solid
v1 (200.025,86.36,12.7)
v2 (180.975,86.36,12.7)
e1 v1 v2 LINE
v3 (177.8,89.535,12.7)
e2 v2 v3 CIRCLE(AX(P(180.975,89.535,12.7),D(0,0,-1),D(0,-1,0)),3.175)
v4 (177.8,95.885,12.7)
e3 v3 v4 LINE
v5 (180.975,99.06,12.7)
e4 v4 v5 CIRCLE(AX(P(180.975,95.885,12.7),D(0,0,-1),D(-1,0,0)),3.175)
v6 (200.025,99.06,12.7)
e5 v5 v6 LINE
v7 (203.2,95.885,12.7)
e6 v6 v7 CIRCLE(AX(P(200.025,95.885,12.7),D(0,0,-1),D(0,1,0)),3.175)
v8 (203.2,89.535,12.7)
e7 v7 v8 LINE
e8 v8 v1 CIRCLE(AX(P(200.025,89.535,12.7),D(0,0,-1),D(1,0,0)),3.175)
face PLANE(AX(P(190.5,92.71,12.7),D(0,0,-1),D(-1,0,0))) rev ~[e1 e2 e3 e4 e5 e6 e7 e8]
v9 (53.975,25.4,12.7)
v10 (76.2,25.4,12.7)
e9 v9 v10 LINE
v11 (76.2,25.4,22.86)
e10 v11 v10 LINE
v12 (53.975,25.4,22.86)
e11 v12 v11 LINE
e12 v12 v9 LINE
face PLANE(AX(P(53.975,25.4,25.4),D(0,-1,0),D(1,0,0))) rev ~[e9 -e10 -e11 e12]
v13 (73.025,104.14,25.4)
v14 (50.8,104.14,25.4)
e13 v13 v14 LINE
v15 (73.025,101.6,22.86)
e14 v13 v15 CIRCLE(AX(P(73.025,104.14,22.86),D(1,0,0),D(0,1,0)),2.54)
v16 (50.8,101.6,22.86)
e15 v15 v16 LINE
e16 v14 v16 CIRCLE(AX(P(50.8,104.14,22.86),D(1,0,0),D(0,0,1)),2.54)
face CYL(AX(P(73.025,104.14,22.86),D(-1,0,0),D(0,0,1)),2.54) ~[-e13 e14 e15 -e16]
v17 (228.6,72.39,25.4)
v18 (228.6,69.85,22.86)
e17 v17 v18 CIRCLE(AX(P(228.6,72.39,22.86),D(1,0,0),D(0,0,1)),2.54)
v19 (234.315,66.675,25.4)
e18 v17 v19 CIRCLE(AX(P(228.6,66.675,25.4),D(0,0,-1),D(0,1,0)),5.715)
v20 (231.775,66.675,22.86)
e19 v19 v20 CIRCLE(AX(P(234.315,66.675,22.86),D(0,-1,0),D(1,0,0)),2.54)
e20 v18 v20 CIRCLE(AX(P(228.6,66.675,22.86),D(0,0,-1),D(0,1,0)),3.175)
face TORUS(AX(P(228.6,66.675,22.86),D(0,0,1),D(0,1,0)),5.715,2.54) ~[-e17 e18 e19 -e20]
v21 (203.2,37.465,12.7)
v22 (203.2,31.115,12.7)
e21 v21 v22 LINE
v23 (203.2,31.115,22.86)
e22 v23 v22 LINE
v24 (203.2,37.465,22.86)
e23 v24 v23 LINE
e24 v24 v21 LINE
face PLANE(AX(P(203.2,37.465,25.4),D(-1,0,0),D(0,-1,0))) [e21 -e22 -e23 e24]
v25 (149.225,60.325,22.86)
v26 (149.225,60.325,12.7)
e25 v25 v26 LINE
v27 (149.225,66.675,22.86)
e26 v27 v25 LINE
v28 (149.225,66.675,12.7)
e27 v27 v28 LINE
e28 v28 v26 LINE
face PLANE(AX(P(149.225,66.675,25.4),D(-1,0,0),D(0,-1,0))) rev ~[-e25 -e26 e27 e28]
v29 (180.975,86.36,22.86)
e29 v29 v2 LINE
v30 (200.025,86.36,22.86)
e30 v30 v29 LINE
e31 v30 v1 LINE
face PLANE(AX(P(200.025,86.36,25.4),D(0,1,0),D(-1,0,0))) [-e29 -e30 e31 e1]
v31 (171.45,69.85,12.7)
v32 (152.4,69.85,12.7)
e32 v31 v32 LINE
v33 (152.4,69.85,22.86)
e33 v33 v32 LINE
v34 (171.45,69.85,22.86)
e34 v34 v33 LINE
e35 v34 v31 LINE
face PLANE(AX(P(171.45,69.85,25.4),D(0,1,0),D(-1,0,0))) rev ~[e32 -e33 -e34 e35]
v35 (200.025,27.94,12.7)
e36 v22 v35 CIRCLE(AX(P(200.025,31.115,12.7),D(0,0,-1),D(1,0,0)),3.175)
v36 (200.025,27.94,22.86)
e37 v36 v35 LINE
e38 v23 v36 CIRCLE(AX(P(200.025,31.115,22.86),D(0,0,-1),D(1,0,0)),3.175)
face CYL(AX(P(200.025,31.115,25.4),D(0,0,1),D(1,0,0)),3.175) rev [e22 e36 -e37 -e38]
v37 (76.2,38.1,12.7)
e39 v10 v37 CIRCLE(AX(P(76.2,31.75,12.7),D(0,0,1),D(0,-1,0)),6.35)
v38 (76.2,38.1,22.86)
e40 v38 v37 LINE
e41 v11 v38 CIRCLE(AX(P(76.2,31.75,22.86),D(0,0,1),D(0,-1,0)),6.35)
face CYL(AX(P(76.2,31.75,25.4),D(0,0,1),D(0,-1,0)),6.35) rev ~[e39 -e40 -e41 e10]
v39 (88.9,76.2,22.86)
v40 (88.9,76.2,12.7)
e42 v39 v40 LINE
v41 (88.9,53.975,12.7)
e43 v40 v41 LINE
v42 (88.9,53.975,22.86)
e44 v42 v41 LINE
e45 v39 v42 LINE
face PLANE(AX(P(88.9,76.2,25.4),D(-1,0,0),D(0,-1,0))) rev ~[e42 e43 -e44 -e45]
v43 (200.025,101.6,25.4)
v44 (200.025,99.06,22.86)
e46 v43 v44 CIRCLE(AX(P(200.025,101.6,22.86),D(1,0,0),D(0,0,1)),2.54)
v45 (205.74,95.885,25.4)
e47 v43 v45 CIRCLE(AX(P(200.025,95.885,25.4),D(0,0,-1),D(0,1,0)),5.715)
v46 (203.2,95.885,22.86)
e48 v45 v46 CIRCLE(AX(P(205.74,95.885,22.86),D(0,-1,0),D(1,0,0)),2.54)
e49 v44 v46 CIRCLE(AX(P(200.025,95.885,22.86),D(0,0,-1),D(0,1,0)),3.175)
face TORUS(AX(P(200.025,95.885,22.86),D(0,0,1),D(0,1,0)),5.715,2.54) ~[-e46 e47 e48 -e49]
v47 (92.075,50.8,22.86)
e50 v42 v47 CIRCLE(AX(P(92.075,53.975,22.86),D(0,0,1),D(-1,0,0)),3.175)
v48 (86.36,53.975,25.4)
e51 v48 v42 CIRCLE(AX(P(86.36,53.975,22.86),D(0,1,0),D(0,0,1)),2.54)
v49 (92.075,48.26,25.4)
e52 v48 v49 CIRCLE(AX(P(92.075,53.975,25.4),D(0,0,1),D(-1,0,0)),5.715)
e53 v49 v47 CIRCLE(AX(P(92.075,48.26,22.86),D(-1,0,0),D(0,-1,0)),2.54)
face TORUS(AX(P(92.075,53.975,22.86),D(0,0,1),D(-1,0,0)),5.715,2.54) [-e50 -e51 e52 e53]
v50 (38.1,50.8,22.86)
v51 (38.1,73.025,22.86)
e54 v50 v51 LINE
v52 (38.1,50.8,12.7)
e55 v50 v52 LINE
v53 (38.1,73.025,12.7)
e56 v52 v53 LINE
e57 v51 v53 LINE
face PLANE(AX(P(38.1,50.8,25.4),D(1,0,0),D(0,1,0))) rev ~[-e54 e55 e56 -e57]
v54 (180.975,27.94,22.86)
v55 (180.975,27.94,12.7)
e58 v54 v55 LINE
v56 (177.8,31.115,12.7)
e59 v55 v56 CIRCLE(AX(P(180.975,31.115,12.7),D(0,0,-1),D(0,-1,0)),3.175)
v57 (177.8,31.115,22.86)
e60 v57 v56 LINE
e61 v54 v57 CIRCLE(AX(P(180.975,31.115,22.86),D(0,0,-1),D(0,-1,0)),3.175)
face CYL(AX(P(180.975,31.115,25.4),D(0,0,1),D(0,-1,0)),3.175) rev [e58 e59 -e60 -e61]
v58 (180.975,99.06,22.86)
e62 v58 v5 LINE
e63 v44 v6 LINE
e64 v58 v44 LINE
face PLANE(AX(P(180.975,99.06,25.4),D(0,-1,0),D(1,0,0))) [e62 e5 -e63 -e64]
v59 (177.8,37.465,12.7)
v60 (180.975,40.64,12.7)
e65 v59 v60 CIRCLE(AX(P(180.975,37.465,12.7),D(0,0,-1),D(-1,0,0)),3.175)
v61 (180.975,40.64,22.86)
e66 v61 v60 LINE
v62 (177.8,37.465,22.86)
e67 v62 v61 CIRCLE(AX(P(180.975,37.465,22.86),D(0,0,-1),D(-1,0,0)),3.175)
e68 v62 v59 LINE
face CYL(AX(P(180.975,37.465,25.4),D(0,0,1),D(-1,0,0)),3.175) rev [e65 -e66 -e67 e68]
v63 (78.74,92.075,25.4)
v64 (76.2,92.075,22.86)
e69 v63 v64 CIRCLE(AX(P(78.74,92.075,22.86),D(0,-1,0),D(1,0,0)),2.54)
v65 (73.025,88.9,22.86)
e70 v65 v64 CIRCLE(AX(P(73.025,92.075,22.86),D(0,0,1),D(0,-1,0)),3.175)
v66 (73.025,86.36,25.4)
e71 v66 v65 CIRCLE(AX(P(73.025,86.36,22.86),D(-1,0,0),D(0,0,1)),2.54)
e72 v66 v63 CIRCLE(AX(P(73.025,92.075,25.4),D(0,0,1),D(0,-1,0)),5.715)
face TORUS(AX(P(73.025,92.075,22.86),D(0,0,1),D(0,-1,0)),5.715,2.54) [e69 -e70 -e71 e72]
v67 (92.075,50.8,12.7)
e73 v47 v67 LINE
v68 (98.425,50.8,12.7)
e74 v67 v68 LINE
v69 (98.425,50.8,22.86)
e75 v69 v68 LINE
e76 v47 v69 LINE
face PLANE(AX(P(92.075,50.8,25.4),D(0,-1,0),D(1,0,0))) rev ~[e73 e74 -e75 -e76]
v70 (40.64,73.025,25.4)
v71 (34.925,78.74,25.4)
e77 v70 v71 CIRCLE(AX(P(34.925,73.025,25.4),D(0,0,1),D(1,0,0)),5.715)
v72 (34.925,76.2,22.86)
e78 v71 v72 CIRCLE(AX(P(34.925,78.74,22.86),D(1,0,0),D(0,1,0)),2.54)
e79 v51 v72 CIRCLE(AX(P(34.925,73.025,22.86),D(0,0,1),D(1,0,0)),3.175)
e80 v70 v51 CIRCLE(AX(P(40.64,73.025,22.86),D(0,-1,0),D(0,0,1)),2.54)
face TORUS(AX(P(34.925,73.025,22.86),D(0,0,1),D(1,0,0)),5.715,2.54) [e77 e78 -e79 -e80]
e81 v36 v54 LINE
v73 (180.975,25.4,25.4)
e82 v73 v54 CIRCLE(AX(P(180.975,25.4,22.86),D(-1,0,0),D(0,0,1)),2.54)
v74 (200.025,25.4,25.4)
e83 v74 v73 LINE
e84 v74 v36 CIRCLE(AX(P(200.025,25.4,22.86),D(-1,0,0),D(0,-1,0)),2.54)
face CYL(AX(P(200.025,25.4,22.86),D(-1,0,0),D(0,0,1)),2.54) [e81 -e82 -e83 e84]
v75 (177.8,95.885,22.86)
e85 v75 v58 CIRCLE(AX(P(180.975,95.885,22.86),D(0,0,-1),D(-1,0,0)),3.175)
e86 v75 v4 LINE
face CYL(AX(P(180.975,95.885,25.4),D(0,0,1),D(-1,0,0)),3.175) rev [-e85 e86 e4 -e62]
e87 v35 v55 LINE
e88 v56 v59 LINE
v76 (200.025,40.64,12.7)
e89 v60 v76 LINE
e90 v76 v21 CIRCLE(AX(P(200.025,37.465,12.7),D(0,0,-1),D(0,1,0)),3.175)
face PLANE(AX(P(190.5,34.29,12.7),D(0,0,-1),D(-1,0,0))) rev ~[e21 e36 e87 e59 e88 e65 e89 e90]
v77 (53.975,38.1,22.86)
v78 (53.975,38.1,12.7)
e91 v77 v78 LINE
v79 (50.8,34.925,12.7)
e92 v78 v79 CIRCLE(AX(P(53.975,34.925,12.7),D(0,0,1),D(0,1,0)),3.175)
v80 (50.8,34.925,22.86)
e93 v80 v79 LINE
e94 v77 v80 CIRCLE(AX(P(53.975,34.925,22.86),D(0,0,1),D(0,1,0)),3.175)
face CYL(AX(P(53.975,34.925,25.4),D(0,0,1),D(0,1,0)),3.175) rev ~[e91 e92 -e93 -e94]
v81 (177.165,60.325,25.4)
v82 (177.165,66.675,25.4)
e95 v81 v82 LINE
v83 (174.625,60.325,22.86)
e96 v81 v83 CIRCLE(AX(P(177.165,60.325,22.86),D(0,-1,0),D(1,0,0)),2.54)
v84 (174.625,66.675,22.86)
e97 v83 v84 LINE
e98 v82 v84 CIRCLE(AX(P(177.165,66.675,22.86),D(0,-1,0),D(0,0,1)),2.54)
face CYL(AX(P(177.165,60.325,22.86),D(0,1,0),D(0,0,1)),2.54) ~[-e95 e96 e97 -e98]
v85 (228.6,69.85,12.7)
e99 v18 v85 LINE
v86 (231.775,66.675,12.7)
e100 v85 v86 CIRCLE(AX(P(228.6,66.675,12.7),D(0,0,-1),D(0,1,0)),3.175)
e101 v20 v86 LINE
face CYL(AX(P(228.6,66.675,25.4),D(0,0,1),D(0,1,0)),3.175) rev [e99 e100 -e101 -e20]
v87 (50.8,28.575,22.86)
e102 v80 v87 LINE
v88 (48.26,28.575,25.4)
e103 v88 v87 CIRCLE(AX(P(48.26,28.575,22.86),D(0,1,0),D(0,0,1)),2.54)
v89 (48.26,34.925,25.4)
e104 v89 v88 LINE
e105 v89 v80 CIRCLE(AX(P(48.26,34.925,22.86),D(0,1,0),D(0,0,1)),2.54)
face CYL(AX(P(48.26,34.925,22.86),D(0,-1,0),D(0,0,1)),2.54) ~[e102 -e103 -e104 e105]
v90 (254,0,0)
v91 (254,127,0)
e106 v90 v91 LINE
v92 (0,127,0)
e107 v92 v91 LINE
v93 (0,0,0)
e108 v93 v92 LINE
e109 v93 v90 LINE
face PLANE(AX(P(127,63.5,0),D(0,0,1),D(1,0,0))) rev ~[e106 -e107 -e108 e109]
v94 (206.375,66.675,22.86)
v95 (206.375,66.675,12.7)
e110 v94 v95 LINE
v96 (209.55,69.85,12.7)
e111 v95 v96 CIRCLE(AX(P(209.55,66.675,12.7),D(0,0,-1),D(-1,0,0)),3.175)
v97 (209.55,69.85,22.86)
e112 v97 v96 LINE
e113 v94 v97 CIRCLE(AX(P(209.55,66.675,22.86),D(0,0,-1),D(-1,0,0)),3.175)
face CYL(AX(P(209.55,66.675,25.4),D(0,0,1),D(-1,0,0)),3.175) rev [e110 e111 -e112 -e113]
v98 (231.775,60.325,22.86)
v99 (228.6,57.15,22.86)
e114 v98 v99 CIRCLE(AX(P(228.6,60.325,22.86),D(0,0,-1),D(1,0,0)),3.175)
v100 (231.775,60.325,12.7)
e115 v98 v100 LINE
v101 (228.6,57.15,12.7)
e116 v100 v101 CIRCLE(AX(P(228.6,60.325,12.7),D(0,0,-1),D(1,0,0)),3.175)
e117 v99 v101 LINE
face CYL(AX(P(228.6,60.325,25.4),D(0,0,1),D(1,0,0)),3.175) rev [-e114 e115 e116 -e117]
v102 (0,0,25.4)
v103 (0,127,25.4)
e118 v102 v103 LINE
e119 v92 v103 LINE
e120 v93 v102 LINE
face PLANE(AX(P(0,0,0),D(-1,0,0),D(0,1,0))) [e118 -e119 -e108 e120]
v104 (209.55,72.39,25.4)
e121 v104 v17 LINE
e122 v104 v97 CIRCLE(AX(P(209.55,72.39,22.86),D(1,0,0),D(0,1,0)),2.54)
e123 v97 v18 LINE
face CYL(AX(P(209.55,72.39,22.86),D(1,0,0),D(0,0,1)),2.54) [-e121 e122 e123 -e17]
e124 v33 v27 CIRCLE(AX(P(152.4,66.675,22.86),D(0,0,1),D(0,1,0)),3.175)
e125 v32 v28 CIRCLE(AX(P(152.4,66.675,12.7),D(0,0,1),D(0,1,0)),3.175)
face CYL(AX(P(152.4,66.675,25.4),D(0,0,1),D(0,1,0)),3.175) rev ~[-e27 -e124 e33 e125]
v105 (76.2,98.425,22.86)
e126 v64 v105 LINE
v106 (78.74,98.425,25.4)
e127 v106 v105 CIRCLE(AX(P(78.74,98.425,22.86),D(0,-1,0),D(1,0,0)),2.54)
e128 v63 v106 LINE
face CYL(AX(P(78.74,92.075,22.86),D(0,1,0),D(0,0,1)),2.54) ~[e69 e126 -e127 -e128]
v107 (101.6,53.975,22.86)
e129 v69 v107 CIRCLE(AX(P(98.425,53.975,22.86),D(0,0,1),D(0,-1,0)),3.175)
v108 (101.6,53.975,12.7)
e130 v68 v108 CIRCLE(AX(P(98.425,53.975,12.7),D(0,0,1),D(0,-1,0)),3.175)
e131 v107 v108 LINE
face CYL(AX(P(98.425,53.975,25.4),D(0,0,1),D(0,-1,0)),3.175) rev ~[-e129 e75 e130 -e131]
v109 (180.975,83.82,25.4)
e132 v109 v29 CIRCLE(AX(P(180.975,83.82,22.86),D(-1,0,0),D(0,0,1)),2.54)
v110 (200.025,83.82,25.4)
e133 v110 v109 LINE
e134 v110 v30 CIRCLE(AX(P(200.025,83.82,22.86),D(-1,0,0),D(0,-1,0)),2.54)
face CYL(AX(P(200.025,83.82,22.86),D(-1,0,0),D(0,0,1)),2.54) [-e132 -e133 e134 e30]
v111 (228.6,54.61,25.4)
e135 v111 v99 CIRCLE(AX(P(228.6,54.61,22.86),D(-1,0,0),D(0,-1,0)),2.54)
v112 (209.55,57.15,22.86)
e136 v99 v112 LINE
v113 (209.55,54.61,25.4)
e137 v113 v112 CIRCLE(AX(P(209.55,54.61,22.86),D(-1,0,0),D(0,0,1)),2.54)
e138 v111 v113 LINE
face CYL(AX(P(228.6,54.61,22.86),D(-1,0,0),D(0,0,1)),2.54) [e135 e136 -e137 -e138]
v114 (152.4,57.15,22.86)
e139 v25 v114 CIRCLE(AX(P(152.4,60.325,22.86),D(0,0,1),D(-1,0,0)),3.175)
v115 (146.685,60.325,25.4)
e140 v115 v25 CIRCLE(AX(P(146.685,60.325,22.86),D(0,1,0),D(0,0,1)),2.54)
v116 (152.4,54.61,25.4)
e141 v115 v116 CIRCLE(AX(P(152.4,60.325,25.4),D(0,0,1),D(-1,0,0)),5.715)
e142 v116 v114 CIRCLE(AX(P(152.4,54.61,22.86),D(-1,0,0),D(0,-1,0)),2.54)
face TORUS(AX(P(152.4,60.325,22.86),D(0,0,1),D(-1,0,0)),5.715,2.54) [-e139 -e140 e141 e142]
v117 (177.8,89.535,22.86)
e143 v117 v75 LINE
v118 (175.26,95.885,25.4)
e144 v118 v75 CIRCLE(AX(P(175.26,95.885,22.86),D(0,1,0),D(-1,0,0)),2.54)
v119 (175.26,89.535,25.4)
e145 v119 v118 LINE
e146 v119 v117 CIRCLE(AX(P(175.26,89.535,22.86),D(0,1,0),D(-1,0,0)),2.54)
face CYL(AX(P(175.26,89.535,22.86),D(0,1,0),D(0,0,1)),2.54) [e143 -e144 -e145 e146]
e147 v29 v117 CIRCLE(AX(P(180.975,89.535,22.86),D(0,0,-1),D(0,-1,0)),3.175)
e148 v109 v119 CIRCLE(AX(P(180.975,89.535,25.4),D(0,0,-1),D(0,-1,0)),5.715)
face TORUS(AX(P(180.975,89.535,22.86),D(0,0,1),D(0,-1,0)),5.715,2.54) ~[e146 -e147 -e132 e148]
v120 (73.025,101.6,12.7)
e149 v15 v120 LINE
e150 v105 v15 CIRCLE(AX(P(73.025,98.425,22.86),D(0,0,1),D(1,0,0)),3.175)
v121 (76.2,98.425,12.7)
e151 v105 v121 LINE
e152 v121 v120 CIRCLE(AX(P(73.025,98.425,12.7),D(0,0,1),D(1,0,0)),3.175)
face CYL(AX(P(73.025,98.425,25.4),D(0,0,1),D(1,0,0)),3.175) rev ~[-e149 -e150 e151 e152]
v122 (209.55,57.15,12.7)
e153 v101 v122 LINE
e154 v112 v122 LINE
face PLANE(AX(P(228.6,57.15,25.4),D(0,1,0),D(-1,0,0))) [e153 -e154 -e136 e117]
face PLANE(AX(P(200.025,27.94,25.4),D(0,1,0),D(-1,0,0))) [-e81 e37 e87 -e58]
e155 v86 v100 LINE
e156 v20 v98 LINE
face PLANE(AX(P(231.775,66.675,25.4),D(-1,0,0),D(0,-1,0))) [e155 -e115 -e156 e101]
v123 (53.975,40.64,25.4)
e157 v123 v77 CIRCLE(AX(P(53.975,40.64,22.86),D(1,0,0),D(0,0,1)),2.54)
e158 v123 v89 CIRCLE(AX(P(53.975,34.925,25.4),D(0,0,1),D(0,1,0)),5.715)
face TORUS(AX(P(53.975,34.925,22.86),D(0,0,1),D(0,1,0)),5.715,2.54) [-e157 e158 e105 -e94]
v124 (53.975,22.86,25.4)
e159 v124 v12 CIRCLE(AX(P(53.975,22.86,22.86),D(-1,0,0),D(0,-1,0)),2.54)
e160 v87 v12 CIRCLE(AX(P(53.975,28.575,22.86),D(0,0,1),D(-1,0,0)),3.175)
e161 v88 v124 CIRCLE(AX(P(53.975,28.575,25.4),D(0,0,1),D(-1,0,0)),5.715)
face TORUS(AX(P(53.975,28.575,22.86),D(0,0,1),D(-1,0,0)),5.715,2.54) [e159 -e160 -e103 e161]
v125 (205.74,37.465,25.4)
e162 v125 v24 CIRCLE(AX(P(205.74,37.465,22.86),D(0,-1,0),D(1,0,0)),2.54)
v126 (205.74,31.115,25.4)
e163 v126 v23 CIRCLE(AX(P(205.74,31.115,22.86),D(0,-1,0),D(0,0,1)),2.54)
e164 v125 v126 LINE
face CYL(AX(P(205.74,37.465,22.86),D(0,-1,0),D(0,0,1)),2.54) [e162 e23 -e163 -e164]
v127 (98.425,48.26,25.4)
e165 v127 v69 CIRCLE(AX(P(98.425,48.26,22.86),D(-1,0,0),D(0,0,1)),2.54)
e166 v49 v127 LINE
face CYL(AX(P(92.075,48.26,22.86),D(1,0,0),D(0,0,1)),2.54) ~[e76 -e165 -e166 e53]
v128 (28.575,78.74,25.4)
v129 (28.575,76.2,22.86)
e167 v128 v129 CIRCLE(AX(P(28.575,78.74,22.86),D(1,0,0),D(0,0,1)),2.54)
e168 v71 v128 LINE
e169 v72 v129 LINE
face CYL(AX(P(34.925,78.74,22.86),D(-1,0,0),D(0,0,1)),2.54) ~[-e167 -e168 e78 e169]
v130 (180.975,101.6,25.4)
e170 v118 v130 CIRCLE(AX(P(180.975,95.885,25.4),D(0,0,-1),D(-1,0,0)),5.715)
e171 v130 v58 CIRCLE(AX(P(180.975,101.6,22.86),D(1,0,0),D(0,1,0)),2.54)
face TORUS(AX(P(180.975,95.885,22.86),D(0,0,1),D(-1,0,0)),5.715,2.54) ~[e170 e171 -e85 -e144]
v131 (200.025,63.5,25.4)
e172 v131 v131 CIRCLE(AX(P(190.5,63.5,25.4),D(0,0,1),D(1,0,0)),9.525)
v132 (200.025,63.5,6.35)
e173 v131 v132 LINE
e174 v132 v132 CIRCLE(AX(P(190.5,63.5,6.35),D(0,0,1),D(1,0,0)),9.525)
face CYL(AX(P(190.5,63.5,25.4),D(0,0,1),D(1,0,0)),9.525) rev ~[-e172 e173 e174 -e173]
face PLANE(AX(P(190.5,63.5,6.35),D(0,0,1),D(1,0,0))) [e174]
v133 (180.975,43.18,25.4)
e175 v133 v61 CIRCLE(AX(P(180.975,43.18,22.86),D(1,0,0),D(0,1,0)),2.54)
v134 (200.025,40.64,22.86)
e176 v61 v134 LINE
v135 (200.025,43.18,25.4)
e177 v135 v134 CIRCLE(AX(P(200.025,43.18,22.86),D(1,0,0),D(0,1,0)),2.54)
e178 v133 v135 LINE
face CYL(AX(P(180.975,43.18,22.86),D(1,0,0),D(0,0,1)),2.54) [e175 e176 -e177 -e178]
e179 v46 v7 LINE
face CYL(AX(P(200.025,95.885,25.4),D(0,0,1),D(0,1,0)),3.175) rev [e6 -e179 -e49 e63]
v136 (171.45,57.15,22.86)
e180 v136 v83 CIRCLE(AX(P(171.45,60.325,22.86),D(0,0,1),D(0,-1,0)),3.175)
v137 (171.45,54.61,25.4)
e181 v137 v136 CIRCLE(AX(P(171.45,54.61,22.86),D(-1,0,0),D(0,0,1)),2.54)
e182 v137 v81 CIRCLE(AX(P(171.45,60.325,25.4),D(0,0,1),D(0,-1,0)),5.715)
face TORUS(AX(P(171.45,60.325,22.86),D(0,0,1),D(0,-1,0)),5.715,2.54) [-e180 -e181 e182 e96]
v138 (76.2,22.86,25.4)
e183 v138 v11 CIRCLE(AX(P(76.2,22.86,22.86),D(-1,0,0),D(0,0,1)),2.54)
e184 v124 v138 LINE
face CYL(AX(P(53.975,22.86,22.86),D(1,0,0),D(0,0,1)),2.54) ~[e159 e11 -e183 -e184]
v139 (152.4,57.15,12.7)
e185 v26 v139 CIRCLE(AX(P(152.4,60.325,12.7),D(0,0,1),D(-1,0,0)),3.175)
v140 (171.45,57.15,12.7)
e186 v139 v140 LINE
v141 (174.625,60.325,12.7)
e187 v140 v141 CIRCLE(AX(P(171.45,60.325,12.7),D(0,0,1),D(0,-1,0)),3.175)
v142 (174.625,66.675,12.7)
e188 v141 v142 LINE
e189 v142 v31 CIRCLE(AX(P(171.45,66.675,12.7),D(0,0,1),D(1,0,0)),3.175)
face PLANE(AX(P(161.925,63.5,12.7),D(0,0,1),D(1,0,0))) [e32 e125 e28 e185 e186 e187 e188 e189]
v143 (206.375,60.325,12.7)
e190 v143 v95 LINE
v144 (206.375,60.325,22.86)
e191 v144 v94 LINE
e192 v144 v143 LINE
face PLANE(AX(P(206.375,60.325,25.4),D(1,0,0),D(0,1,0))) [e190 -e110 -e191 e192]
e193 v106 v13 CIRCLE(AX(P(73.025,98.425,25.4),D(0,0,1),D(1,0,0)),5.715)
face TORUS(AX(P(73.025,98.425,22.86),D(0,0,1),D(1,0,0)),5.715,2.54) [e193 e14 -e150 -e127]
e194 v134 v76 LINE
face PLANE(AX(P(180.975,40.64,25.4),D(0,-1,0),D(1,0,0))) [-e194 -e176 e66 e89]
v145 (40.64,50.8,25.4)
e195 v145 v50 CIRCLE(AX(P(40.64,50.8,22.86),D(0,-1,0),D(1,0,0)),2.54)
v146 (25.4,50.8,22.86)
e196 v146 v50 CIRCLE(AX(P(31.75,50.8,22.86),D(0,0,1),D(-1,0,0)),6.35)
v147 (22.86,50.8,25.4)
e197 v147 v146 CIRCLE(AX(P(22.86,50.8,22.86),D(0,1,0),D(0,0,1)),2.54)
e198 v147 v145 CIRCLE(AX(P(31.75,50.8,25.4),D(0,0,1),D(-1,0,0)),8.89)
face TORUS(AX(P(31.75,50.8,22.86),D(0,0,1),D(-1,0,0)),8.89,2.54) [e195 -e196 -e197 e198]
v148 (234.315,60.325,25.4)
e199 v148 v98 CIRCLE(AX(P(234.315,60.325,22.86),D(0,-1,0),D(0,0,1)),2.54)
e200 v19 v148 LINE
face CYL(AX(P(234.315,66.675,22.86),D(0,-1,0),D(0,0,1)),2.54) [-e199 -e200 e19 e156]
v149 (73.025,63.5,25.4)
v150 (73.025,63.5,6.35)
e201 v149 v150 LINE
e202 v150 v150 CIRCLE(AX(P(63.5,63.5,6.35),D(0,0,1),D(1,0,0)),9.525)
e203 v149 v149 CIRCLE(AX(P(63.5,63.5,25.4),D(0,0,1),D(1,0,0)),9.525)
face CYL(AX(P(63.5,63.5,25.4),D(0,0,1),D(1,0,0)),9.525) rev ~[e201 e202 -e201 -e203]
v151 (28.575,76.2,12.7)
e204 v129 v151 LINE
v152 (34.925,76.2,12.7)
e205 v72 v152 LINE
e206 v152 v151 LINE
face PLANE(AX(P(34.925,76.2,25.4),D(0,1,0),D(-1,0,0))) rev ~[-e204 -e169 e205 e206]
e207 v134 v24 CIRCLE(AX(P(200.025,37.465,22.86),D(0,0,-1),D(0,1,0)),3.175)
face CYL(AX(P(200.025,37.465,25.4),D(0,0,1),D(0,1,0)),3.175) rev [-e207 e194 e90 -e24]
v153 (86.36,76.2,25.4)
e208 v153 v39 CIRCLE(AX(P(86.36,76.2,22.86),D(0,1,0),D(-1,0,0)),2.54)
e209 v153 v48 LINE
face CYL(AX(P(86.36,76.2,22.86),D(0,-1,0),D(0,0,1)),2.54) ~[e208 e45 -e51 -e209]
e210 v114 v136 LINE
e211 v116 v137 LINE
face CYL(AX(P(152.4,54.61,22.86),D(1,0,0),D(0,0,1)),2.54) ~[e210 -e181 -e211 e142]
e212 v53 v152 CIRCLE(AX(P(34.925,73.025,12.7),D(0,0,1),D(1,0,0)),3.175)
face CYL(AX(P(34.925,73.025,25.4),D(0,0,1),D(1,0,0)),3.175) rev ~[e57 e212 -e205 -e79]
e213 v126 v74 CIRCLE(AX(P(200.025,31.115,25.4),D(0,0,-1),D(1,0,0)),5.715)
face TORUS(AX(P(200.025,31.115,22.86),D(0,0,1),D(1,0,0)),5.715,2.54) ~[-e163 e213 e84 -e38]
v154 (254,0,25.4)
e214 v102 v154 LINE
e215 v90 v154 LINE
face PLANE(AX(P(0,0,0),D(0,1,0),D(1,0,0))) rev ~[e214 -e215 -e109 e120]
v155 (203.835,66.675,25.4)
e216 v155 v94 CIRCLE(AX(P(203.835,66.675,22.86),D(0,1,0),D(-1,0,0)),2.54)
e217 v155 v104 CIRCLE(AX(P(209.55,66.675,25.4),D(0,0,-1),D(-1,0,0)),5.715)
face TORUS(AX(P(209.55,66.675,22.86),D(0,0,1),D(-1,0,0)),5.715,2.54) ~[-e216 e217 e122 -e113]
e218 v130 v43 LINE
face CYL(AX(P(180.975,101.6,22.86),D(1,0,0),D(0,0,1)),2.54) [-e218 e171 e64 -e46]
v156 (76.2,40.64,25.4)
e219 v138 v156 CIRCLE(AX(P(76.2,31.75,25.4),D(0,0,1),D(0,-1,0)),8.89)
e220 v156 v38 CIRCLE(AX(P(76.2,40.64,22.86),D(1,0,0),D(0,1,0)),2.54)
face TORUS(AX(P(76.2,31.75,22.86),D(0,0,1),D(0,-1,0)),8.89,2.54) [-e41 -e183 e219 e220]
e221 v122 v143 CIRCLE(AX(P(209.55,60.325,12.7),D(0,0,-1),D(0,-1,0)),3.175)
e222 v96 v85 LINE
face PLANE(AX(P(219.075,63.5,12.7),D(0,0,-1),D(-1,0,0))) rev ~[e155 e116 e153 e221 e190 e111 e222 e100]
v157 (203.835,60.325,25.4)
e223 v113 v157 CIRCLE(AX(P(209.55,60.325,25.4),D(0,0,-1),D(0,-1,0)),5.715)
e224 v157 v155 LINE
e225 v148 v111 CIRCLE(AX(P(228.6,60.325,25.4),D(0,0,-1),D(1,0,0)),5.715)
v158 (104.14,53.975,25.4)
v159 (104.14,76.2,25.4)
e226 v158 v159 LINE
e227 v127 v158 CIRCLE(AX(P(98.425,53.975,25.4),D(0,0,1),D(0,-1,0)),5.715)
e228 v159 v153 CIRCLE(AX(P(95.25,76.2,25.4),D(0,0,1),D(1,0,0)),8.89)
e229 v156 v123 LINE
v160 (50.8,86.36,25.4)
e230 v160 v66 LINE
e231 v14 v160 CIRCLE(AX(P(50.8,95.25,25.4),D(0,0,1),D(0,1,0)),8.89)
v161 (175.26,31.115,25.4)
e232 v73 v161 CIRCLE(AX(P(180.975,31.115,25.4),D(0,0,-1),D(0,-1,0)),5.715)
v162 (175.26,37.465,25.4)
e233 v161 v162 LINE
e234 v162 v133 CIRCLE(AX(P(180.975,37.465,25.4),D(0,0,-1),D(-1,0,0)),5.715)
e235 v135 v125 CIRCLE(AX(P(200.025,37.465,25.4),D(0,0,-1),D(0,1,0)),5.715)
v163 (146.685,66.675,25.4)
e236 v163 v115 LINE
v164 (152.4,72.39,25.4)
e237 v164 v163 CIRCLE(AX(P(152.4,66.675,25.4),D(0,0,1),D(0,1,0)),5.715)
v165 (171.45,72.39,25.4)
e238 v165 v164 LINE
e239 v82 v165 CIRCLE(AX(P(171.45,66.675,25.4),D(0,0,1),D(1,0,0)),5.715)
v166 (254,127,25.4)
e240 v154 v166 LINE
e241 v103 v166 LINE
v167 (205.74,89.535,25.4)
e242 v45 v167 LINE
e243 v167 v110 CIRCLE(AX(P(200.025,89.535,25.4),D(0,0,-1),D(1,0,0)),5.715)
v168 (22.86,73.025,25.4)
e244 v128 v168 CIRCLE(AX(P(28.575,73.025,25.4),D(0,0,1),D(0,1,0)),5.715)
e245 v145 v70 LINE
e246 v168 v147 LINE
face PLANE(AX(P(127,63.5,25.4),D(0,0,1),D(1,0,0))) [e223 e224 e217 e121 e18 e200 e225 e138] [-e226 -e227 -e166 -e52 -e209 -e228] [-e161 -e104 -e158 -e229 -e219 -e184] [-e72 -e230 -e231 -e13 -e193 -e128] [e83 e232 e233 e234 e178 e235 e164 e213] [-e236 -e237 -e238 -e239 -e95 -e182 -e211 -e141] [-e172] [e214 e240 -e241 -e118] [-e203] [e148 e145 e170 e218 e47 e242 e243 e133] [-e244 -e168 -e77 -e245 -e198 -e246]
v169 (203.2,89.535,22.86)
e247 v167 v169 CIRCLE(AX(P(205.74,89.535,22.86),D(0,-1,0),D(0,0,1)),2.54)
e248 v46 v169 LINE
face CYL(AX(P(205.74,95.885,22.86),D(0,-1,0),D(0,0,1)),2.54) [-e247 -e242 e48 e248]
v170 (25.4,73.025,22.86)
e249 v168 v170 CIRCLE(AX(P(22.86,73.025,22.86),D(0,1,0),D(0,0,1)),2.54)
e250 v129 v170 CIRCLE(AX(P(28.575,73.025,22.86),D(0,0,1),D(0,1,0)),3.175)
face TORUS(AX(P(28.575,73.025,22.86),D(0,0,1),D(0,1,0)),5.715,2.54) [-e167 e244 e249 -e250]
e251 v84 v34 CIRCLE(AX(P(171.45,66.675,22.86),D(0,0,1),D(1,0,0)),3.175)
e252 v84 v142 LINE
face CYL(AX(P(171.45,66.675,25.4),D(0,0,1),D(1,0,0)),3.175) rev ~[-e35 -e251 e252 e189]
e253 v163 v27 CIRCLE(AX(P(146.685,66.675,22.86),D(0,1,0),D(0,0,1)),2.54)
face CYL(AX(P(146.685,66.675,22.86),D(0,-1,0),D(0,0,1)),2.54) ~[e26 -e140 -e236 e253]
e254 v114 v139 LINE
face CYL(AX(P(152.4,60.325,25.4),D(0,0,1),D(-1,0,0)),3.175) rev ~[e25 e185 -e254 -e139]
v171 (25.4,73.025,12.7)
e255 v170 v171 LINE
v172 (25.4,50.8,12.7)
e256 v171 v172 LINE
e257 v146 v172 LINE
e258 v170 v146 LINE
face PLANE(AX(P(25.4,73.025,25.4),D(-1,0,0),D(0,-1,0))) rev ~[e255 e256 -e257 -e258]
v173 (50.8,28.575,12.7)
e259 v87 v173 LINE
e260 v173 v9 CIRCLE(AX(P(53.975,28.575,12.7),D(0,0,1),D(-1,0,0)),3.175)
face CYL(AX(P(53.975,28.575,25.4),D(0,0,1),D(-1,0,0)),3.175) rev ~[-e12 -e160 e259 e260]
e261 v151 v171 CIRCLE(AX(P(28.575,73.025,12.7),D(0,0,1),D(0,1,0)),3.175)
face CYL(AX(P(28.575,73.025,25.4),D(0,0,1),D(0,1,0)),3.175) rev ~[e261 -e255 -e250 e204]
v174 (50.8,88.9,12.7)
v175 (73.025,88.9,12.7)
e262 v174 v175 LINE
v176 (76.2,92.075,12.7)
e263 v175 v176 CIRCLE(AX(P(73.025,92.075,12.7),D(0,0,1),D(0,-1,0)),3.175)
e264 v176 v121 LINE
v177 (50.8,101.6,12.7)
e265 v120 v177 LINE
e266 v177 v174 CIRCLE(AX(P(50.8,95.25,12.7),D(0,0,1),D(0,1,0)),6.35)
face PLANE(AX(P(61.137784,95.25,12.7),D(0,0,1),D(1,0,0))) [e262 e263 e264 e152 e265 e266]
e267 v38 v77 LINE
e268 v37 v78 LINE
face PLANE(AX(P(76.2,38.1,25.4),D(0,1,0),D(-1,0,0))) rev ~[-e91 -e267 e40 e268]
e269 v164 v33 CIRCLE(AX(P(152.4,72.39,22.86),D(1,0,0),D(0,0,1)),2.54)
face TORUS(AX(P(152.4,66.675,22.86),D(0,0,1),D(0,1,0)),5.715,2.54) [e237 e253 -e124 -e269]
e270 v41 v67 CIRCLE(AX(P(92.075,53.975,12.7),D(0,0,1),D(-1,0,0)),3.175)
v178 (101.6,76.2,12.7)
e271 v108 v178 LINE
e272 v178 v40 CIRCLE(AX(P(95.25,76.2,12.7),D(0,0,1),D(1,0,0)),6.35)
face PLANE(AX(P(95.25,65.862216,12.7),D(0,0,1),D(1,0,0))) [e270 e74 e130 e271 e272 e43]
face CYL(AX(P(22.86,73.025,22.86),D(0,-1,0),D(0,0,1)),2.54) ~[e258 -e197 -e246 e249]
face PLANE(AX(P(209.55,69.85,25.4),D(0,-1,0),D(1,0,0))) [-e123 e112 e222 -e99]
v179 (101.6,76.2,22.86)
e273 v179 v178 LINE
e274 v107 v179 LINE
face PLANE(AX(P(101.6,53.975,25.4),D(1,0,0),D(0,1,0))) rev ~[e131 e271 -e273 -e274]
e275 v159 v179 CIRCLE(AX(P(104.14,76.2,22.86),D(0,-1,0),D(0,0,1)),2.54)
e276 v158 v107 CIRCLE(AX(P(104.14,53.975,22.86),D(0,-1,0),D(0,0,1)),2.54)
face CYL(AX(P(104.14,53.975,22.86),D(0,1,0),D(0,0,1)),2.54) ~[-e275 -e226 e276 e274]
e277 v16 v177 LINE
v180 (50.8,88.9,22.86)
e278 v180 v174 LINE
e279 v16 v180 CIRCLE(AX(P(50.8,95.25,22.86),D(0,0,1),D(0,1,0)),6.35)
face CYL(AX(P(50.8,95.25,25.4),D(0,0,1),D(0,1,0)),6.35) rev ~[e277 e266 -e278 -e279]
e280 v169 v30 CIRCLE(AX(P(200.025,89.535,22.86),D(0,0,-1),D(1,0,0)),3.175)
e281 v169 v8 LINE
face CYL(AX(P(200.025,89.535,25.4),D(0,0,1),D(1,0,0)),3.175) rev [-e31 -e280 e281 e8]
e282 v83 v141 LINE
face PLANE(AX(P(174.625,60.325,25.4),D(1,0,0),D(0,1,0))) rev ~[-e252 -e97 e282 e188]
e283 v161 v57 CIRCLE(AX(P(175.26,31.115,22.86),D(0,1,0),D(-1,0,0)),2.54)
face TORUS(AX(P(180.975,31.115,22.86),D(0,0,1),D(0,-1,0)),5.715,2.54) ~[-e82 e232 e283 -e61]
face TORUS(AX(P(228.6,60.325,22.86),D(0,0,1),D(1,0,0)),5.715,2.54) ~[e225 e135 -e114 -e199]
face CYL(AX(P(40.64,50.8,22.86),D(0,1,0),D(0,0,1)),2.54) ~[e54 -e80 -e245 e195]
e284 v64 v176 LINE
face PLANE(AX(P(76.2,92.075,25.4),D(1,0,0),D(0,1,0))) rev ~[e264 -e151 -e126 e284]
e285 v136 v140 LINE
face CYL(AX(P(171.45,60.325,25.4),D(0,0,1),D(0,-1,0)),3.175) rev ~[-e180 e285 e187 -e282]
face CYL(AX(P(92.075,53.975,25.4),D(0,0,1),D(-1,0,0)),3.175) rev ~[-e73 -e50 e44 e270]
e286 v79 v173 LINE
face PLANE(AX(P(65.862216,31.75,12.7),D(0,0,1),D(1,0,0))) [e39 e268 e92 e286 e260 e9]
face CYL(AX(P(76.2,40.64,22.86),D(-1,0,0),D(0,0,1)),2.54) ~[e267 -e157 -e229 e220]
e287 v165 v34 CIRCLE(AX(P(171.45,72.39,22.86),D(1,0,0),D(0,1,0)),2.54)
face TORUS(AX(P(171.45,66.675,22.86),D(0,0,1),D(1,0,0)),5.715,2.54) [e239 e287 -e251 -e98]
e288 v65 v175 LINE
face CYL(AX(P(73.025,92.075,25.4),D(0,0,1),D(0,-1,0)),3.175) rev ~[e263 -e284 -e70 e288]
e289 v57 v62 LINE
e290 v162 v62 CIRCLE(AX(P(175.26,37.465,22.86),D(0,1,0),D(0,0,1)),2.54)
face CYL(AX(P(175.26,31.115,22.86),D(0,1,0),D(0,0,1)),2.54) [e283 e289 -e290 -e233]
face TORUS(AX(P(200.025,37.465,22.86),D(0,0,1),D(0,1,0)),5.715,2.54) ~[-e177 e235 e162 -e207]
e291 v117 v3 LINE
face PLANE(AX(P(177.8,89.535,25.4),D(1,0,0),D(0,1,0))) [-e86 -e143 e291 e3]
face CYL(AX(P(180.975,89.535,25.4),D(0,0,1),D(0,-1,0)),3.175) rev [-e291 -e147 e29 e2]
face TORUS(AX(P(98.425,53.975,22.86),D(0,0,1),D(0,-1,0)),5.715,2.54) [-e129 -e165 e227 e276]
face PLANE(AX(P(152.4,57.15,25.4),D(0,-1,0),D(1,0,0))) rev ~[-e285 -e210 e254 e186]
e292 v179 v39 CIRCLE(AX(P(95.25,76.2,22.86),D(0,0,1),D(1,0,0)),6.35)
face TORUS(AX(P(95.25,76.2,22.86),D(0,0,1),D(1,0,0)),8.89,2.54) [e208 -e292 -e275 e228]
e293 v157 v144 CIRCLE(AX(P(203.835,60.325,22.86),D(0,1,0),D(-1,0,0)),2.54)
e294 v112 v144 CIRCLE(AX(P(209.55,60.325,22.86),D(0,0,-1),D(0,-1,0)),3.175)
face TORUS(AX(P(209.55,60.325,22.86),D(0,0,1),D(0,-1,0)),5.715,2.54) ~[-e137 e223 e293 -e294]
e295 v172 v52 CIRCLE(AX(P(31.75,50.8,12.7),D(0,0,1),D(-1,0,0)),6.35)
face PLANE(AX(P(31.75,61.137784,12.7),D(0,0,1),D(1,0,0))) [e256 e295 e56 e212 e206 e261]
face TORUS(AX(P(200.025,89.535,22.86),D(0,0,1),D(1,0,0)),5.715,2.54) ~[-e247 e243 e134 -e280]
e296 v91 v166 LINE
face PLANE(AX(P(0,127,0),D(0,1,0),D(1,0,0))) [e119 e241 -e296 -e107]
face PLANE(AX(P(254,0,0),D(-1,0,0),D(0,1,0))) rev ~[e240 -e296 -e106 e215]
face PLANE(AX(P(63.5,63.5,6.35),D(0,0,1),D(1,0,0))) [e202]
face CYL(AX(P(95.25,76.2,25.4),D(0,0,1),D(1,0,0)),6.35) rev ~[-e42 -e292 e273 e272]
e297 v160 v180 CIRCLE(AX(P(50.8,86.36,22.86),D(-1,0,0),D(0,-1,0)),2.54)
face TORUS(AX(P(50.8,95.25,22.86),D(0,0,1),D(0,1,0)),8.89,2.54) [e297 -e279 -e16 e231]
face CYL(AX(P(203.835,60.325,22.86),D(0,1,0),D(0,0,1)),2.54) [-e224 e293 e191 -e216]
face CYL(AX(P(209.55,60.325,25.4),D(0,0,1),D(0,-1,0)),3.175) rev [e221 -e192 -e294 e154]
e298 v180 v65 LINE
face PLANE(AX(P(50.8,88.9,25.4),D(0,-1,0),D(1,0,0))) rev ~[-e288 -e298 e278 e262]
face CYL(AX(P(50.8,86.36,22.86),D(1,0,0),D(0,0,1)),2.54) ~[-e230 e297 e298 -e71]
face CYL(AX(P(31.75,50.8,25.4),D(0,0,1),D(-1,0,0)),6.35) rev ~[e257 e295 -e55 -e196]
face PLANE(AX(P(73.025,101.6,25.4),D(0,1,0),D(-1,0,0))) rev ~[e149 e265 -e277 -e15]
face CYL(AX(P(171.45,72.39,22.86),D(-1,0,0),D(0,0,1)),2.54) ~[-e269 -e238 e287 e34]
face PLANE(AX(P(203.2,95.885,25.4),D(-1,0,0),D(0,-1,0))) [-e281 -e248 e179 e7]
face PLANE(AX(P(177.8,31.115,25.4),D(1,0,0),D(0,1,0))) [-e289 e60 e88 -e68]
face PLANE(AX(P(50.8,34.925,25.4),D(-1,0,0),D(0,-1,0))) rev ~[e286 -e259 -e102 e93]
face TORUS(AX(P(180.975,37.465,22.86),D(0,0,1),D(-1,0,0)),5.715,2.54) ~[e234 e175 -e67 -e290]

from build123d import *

# Parameters (mm, degrees)
SKETCH1_W          = 254
SKETCH1_H          = 127
EXTRUDE1_DEPTH     = 25.4
SKETCH2_R          = 9.525
CUT_EXTRUDE1_DEPTH = 19.05
CUT_EXTRUDE2_DEPTH = 12.7
FILLET2_R          = 2.54
CUT_EXTRUDE3_DEPTH = 12.7
FILLET3_R          = 2.54


with BuildPart() as part:
    # Sketch1 → Extrude1 (new body)
    with BuildSketch(Plane.XY):
        with Locations((127, 63.5)):
            Rectangle(SKETCH1_W, SKETCH1_H)
    extrude(amount=EXTRUDE1_DEPTH)

    # Sketch2 → Cut-Extrude1 (cut)
    with BuildSketch(Plane.XY.offset(25.4)):
        with Locations((63.5, 63.5)):
            Circle(SKETCH2_R)
        with Locations((190.5, 63.5)):
            Circle(SKETCH2_R)
    extrude(amount=-CUT_EXTRUDE1_DEPTH, mode=Mode.SUBTRACT)

    # Sketch3 → Cut-Extrude2 (cut)
    with BuildSketch(Plane.XY.offset(25.4)):
        with BuildLine():
            Line((50.8, 34.925), (50.8, 28.575))
            ThreePointArc((50.8, 28.575), (51.72993597, 26.32993597), (53.975, 25.4))
            Line((53.975, 25.4), (76.2, 25.4))
            ThreePointArc((76.2, 25.4), (82.55, 31.75), (76.2, 38.1))
            Line((76.2, 38.1), (53.975, 38.1))
            ThreePointArc((53.975, 38.1), (51.72993597, 37.17006403), (50.8, 34.925))
        make_face()
        with BuildLine():
            Line((101.6, 53.975), (101.6, 76.2))
            ThreePointArc((101.6, 76.2), (95.25, 82.55), (88.9, 76.2))
            Line((88.9, 76.2), (88.9, 53.975))
            ThreePointArc((88.9, 53.975), (89.82993597, 51.72993597), (92.075, 50.8))
            Line((92.075, 50.8), (98.425, 50.8))
            ThreePointArc((98.425, 50.8), (100.67006403, 51.72993597), (101.6, 53.975))
        make_face()
        with BuildLine():
            Line((73.025, 101.6), (50.8, 101.6))
            ThreePointArc((50.8, 101.6), (44.45, 95.25), (50.8, 88.9))
            Line((50.8, 88.9), (73.025, 88.9))
            ThreePointArc((73.025, 88.9), (75.27006403, 89.82993597), (76.2, 92.075))
            Line((76.2, 92.075), (76.2, 98.425))
            ThreePointArc((76.2, 98.425), (75.27006403, 100.67006403), (73.025, 101.6))
        make_face()
        with BuildLine():
            Line((25.4, 73.025), (25.4, 50.8))
            ThreePointArc((25.4, 50.8), (31.75, 44.45), (38.1, 50.8))
            Line((38.1, 50.8), (38.1, 73.025))
            ThreePointArc((38.1, 73.025), (37.17006403, 75.27006403), (34.925, 76.2))
            Line((34.925, 76.2), (28.575, 76.2))
            ThreePointArc((28.575, 76.2), (26.32993597, 75.27006403), (25.4, 73.025))
        make_face()
    extrude(amount=-CUT_EXTRUDE2_DEPTH, mode=Mode.SUBTRACT)

    # Fillet2
    fillet2_edges = [part.edges().sort_by_distance(p)[0] for p in [
        (50.8, 31.75, 25.4),
        (51.72993597, 26.32993597, 25.4),
        (65.0875, 25.4, 25.4),
        (82.55, 31.75, 25.4),
        (65.0875, 38.1, 25.4),
        (51.72993597, 37.17006403, 25.4),
        (25.4, 61.9125, 25.4),
        (31.75, 44.45, 25.4),
        (38.1, 61.9125, 25.4),
        (37.17006403, 75.27006403, 25.4),
        (31.75, 76.2, 25.4),
        (26.32993597, 75.27006403, 25.4),
        (101.6, 65.0875, 25.4),
        (95.25, 82.55, 25.4),
        (88.9, 65.0875, 25.4),
        (89.82993597, 51.72993597, 25.4),
        (95.25, 50.8, 25.4),
        (100.67006403, 51.72993597, 25.4),
        (75.27006403, 100.67006403, 25.4),
        (61.9125, 101.6, 25.4),
        (44.45, 95.25, 25.4),
        (61.9125, 88.9, 25.4),
        (75.27006403, 89.82993597, 25.4),
        (76.2, 95.25, 25.4),
    ]]
    fillet(fillet2_edges, radius=FILLET2_R)

    # Sketch4 → Cut-Extrude3 (cut)
    with BuildSketch(Plane.XY.offset(25.4)):
        with BuildLine():
            Line((203.2, 37.465), (203.2, 31.115))
            ThreePointArc((203.2, 31.115), (202.27006403, 28.86993597), (200.025, 27.94))
            Line((200.025, 27.94), (180.975, 27.94))
            ThreePointArc((180.975, 27.94), (178.72993597, 28.86993597), (177.8, 31.115))
            Line((177.8, 31.115), (177.8, 37.465))
            ThreePointArc((177.8, 37.465), (178.72993597, 39.71006403), (180.975, 40.64))
            Line((180.975, 40.64), (200.025, 40.64))
            ThreePointArc((200.025, 40.64), (202.27006403, 39.71006403), (203.2, 37.465))
        make_face()
        with BuildLine():
            Line((180.975, 99.06), (200.025, 99.06))
            ThreePointArc((200.025, 99.06), (202.27006403, 98.13006403), (203.2, 95.885))
            Line((203.2, 95.885), (203.2, 89.535))
            ThreePointArc((203.2, 89.535), (202.27006403, 87.28993597), (200.025, 86.36))
            Line((200.025, 86.36), (180.975, 86.36))
            ThreePointArc((180.975, 86.36), (178.72993597, 87.28993597), (177.8, 89.535))
            Line((177.8, 89.535), (177.8, 95.885))
            ThreePointArc((177.8, 95.885), (178.72993597, 98.13006403), (180.975, 99.06))
        make_face()
        with BuildLine():
            Line((209.55, 69.85), (228.6, 69.85))
            ThreePointArc((228.6, 69.85), (230.84506403, 68.92006403), (231.775, 66.675))
            Line((231.775, 66.675), (231.775, 60.325))
            ThreePointArc((231.775, 60.325), (230.84506403, 58.07993597), (228.6, 57.15))
            Line((228.6, 57.15), (209.55, 57.15))
            ThreePointArc((209.55, 57.15), (207.30493597, 58.07993597), (206.375, 60.325))
            Line((206.375, 60.325), (206.375, 66.675))
            ThreePointArc((206.375, 66.675), (207.30493597, 68.92006403), (209.55, 69.85))
        make_face()
        with BuildLine():
            Line((149.225, 66.675), (149.225, 60.325))
            ThreePointArc((149.225, 60.325), (150.15493597, 58.07993597), (152.4, 57.15))
            Line((152.4, 57.15), (171.45, 57.15))
            ThreePointArc((171.45, 57.15), (173.69506403, 58.07993597), (174.625, 60.325))
            Line((174.625, 60.325), (174.625, 66.675))
            ThreePointArc((174.625, 66.675), (173.69506403, 68.92006403), (171.45, 69.85))
            Line((171.45, 69.85), (152.4, 69.85))
            ThreePointArc((152.4, 69.85), (150.15493597, 68.92006403), (149.225, 66.675))
        make_face()
    extrude(amount=-CUT_EXTRUDE3_DEPTH, mode=Mode.SUBTRACT)

    # Fillet3
    fillet3_edges = [part.edges().sort_by_distance(p)[0] for p in [
        (202.27006403, 39.71006403, 25.4),
        (190.5, 40.64, 25.4),
        (178.72993597, 39.71006403, 25.4),
        (177.8, 34.29, 25.4),
        (178.72993597, 28.86993597, 25.4),
        (190.5, 27.94, 25.4),
        (202.27006403, 28.86993597, 25.4),
        (203.2, 34.29, 25.4),
        (149.225, 63.5, 25.4),
        (150.15493597, 58.07993597, 25.4),
        (161.925, 57.15, 25.4),
        (173.69506403, 58.07993597, 25.4),
        (174.625, 63.5, 25.4),
        (173.69506403, 68.92006403, 25.4),
        (161.925, 69.85, 25.4),
        (150.15493597, 68.92006403, 25.4),
        (207.30493597, 68.92006403, 25.4),
        (206.375, 63.5, 25.4),
        (207.30493597, 58.07993597, 25.4),
        (219.075, 57.15, 25.4),
        (230.84506403, 58.07993597, 25.4),
        (231.775, 63.5, 25.4),
        (230.84506403, 68.92006403, 25.4),
        (219.075, 69.85, 25.4),
        (178.72993597, 98.13006403, 25.4),
        (177.8, 92.71, 25.4),
        (178.72993597, 87.28993597, 25.4),
        (190.5, 86.36, 25.4),
        (202.27006403, 87.28993597, 25.4),
        (203.2, 92.71, 25.4),
        (202.27006403, 98.13006403, 25.4),
        (190.5, 99.06, 25.4),
    ]]
    fillet(fillet3_edges, radius=FILLET3_R)


solid = part.part
